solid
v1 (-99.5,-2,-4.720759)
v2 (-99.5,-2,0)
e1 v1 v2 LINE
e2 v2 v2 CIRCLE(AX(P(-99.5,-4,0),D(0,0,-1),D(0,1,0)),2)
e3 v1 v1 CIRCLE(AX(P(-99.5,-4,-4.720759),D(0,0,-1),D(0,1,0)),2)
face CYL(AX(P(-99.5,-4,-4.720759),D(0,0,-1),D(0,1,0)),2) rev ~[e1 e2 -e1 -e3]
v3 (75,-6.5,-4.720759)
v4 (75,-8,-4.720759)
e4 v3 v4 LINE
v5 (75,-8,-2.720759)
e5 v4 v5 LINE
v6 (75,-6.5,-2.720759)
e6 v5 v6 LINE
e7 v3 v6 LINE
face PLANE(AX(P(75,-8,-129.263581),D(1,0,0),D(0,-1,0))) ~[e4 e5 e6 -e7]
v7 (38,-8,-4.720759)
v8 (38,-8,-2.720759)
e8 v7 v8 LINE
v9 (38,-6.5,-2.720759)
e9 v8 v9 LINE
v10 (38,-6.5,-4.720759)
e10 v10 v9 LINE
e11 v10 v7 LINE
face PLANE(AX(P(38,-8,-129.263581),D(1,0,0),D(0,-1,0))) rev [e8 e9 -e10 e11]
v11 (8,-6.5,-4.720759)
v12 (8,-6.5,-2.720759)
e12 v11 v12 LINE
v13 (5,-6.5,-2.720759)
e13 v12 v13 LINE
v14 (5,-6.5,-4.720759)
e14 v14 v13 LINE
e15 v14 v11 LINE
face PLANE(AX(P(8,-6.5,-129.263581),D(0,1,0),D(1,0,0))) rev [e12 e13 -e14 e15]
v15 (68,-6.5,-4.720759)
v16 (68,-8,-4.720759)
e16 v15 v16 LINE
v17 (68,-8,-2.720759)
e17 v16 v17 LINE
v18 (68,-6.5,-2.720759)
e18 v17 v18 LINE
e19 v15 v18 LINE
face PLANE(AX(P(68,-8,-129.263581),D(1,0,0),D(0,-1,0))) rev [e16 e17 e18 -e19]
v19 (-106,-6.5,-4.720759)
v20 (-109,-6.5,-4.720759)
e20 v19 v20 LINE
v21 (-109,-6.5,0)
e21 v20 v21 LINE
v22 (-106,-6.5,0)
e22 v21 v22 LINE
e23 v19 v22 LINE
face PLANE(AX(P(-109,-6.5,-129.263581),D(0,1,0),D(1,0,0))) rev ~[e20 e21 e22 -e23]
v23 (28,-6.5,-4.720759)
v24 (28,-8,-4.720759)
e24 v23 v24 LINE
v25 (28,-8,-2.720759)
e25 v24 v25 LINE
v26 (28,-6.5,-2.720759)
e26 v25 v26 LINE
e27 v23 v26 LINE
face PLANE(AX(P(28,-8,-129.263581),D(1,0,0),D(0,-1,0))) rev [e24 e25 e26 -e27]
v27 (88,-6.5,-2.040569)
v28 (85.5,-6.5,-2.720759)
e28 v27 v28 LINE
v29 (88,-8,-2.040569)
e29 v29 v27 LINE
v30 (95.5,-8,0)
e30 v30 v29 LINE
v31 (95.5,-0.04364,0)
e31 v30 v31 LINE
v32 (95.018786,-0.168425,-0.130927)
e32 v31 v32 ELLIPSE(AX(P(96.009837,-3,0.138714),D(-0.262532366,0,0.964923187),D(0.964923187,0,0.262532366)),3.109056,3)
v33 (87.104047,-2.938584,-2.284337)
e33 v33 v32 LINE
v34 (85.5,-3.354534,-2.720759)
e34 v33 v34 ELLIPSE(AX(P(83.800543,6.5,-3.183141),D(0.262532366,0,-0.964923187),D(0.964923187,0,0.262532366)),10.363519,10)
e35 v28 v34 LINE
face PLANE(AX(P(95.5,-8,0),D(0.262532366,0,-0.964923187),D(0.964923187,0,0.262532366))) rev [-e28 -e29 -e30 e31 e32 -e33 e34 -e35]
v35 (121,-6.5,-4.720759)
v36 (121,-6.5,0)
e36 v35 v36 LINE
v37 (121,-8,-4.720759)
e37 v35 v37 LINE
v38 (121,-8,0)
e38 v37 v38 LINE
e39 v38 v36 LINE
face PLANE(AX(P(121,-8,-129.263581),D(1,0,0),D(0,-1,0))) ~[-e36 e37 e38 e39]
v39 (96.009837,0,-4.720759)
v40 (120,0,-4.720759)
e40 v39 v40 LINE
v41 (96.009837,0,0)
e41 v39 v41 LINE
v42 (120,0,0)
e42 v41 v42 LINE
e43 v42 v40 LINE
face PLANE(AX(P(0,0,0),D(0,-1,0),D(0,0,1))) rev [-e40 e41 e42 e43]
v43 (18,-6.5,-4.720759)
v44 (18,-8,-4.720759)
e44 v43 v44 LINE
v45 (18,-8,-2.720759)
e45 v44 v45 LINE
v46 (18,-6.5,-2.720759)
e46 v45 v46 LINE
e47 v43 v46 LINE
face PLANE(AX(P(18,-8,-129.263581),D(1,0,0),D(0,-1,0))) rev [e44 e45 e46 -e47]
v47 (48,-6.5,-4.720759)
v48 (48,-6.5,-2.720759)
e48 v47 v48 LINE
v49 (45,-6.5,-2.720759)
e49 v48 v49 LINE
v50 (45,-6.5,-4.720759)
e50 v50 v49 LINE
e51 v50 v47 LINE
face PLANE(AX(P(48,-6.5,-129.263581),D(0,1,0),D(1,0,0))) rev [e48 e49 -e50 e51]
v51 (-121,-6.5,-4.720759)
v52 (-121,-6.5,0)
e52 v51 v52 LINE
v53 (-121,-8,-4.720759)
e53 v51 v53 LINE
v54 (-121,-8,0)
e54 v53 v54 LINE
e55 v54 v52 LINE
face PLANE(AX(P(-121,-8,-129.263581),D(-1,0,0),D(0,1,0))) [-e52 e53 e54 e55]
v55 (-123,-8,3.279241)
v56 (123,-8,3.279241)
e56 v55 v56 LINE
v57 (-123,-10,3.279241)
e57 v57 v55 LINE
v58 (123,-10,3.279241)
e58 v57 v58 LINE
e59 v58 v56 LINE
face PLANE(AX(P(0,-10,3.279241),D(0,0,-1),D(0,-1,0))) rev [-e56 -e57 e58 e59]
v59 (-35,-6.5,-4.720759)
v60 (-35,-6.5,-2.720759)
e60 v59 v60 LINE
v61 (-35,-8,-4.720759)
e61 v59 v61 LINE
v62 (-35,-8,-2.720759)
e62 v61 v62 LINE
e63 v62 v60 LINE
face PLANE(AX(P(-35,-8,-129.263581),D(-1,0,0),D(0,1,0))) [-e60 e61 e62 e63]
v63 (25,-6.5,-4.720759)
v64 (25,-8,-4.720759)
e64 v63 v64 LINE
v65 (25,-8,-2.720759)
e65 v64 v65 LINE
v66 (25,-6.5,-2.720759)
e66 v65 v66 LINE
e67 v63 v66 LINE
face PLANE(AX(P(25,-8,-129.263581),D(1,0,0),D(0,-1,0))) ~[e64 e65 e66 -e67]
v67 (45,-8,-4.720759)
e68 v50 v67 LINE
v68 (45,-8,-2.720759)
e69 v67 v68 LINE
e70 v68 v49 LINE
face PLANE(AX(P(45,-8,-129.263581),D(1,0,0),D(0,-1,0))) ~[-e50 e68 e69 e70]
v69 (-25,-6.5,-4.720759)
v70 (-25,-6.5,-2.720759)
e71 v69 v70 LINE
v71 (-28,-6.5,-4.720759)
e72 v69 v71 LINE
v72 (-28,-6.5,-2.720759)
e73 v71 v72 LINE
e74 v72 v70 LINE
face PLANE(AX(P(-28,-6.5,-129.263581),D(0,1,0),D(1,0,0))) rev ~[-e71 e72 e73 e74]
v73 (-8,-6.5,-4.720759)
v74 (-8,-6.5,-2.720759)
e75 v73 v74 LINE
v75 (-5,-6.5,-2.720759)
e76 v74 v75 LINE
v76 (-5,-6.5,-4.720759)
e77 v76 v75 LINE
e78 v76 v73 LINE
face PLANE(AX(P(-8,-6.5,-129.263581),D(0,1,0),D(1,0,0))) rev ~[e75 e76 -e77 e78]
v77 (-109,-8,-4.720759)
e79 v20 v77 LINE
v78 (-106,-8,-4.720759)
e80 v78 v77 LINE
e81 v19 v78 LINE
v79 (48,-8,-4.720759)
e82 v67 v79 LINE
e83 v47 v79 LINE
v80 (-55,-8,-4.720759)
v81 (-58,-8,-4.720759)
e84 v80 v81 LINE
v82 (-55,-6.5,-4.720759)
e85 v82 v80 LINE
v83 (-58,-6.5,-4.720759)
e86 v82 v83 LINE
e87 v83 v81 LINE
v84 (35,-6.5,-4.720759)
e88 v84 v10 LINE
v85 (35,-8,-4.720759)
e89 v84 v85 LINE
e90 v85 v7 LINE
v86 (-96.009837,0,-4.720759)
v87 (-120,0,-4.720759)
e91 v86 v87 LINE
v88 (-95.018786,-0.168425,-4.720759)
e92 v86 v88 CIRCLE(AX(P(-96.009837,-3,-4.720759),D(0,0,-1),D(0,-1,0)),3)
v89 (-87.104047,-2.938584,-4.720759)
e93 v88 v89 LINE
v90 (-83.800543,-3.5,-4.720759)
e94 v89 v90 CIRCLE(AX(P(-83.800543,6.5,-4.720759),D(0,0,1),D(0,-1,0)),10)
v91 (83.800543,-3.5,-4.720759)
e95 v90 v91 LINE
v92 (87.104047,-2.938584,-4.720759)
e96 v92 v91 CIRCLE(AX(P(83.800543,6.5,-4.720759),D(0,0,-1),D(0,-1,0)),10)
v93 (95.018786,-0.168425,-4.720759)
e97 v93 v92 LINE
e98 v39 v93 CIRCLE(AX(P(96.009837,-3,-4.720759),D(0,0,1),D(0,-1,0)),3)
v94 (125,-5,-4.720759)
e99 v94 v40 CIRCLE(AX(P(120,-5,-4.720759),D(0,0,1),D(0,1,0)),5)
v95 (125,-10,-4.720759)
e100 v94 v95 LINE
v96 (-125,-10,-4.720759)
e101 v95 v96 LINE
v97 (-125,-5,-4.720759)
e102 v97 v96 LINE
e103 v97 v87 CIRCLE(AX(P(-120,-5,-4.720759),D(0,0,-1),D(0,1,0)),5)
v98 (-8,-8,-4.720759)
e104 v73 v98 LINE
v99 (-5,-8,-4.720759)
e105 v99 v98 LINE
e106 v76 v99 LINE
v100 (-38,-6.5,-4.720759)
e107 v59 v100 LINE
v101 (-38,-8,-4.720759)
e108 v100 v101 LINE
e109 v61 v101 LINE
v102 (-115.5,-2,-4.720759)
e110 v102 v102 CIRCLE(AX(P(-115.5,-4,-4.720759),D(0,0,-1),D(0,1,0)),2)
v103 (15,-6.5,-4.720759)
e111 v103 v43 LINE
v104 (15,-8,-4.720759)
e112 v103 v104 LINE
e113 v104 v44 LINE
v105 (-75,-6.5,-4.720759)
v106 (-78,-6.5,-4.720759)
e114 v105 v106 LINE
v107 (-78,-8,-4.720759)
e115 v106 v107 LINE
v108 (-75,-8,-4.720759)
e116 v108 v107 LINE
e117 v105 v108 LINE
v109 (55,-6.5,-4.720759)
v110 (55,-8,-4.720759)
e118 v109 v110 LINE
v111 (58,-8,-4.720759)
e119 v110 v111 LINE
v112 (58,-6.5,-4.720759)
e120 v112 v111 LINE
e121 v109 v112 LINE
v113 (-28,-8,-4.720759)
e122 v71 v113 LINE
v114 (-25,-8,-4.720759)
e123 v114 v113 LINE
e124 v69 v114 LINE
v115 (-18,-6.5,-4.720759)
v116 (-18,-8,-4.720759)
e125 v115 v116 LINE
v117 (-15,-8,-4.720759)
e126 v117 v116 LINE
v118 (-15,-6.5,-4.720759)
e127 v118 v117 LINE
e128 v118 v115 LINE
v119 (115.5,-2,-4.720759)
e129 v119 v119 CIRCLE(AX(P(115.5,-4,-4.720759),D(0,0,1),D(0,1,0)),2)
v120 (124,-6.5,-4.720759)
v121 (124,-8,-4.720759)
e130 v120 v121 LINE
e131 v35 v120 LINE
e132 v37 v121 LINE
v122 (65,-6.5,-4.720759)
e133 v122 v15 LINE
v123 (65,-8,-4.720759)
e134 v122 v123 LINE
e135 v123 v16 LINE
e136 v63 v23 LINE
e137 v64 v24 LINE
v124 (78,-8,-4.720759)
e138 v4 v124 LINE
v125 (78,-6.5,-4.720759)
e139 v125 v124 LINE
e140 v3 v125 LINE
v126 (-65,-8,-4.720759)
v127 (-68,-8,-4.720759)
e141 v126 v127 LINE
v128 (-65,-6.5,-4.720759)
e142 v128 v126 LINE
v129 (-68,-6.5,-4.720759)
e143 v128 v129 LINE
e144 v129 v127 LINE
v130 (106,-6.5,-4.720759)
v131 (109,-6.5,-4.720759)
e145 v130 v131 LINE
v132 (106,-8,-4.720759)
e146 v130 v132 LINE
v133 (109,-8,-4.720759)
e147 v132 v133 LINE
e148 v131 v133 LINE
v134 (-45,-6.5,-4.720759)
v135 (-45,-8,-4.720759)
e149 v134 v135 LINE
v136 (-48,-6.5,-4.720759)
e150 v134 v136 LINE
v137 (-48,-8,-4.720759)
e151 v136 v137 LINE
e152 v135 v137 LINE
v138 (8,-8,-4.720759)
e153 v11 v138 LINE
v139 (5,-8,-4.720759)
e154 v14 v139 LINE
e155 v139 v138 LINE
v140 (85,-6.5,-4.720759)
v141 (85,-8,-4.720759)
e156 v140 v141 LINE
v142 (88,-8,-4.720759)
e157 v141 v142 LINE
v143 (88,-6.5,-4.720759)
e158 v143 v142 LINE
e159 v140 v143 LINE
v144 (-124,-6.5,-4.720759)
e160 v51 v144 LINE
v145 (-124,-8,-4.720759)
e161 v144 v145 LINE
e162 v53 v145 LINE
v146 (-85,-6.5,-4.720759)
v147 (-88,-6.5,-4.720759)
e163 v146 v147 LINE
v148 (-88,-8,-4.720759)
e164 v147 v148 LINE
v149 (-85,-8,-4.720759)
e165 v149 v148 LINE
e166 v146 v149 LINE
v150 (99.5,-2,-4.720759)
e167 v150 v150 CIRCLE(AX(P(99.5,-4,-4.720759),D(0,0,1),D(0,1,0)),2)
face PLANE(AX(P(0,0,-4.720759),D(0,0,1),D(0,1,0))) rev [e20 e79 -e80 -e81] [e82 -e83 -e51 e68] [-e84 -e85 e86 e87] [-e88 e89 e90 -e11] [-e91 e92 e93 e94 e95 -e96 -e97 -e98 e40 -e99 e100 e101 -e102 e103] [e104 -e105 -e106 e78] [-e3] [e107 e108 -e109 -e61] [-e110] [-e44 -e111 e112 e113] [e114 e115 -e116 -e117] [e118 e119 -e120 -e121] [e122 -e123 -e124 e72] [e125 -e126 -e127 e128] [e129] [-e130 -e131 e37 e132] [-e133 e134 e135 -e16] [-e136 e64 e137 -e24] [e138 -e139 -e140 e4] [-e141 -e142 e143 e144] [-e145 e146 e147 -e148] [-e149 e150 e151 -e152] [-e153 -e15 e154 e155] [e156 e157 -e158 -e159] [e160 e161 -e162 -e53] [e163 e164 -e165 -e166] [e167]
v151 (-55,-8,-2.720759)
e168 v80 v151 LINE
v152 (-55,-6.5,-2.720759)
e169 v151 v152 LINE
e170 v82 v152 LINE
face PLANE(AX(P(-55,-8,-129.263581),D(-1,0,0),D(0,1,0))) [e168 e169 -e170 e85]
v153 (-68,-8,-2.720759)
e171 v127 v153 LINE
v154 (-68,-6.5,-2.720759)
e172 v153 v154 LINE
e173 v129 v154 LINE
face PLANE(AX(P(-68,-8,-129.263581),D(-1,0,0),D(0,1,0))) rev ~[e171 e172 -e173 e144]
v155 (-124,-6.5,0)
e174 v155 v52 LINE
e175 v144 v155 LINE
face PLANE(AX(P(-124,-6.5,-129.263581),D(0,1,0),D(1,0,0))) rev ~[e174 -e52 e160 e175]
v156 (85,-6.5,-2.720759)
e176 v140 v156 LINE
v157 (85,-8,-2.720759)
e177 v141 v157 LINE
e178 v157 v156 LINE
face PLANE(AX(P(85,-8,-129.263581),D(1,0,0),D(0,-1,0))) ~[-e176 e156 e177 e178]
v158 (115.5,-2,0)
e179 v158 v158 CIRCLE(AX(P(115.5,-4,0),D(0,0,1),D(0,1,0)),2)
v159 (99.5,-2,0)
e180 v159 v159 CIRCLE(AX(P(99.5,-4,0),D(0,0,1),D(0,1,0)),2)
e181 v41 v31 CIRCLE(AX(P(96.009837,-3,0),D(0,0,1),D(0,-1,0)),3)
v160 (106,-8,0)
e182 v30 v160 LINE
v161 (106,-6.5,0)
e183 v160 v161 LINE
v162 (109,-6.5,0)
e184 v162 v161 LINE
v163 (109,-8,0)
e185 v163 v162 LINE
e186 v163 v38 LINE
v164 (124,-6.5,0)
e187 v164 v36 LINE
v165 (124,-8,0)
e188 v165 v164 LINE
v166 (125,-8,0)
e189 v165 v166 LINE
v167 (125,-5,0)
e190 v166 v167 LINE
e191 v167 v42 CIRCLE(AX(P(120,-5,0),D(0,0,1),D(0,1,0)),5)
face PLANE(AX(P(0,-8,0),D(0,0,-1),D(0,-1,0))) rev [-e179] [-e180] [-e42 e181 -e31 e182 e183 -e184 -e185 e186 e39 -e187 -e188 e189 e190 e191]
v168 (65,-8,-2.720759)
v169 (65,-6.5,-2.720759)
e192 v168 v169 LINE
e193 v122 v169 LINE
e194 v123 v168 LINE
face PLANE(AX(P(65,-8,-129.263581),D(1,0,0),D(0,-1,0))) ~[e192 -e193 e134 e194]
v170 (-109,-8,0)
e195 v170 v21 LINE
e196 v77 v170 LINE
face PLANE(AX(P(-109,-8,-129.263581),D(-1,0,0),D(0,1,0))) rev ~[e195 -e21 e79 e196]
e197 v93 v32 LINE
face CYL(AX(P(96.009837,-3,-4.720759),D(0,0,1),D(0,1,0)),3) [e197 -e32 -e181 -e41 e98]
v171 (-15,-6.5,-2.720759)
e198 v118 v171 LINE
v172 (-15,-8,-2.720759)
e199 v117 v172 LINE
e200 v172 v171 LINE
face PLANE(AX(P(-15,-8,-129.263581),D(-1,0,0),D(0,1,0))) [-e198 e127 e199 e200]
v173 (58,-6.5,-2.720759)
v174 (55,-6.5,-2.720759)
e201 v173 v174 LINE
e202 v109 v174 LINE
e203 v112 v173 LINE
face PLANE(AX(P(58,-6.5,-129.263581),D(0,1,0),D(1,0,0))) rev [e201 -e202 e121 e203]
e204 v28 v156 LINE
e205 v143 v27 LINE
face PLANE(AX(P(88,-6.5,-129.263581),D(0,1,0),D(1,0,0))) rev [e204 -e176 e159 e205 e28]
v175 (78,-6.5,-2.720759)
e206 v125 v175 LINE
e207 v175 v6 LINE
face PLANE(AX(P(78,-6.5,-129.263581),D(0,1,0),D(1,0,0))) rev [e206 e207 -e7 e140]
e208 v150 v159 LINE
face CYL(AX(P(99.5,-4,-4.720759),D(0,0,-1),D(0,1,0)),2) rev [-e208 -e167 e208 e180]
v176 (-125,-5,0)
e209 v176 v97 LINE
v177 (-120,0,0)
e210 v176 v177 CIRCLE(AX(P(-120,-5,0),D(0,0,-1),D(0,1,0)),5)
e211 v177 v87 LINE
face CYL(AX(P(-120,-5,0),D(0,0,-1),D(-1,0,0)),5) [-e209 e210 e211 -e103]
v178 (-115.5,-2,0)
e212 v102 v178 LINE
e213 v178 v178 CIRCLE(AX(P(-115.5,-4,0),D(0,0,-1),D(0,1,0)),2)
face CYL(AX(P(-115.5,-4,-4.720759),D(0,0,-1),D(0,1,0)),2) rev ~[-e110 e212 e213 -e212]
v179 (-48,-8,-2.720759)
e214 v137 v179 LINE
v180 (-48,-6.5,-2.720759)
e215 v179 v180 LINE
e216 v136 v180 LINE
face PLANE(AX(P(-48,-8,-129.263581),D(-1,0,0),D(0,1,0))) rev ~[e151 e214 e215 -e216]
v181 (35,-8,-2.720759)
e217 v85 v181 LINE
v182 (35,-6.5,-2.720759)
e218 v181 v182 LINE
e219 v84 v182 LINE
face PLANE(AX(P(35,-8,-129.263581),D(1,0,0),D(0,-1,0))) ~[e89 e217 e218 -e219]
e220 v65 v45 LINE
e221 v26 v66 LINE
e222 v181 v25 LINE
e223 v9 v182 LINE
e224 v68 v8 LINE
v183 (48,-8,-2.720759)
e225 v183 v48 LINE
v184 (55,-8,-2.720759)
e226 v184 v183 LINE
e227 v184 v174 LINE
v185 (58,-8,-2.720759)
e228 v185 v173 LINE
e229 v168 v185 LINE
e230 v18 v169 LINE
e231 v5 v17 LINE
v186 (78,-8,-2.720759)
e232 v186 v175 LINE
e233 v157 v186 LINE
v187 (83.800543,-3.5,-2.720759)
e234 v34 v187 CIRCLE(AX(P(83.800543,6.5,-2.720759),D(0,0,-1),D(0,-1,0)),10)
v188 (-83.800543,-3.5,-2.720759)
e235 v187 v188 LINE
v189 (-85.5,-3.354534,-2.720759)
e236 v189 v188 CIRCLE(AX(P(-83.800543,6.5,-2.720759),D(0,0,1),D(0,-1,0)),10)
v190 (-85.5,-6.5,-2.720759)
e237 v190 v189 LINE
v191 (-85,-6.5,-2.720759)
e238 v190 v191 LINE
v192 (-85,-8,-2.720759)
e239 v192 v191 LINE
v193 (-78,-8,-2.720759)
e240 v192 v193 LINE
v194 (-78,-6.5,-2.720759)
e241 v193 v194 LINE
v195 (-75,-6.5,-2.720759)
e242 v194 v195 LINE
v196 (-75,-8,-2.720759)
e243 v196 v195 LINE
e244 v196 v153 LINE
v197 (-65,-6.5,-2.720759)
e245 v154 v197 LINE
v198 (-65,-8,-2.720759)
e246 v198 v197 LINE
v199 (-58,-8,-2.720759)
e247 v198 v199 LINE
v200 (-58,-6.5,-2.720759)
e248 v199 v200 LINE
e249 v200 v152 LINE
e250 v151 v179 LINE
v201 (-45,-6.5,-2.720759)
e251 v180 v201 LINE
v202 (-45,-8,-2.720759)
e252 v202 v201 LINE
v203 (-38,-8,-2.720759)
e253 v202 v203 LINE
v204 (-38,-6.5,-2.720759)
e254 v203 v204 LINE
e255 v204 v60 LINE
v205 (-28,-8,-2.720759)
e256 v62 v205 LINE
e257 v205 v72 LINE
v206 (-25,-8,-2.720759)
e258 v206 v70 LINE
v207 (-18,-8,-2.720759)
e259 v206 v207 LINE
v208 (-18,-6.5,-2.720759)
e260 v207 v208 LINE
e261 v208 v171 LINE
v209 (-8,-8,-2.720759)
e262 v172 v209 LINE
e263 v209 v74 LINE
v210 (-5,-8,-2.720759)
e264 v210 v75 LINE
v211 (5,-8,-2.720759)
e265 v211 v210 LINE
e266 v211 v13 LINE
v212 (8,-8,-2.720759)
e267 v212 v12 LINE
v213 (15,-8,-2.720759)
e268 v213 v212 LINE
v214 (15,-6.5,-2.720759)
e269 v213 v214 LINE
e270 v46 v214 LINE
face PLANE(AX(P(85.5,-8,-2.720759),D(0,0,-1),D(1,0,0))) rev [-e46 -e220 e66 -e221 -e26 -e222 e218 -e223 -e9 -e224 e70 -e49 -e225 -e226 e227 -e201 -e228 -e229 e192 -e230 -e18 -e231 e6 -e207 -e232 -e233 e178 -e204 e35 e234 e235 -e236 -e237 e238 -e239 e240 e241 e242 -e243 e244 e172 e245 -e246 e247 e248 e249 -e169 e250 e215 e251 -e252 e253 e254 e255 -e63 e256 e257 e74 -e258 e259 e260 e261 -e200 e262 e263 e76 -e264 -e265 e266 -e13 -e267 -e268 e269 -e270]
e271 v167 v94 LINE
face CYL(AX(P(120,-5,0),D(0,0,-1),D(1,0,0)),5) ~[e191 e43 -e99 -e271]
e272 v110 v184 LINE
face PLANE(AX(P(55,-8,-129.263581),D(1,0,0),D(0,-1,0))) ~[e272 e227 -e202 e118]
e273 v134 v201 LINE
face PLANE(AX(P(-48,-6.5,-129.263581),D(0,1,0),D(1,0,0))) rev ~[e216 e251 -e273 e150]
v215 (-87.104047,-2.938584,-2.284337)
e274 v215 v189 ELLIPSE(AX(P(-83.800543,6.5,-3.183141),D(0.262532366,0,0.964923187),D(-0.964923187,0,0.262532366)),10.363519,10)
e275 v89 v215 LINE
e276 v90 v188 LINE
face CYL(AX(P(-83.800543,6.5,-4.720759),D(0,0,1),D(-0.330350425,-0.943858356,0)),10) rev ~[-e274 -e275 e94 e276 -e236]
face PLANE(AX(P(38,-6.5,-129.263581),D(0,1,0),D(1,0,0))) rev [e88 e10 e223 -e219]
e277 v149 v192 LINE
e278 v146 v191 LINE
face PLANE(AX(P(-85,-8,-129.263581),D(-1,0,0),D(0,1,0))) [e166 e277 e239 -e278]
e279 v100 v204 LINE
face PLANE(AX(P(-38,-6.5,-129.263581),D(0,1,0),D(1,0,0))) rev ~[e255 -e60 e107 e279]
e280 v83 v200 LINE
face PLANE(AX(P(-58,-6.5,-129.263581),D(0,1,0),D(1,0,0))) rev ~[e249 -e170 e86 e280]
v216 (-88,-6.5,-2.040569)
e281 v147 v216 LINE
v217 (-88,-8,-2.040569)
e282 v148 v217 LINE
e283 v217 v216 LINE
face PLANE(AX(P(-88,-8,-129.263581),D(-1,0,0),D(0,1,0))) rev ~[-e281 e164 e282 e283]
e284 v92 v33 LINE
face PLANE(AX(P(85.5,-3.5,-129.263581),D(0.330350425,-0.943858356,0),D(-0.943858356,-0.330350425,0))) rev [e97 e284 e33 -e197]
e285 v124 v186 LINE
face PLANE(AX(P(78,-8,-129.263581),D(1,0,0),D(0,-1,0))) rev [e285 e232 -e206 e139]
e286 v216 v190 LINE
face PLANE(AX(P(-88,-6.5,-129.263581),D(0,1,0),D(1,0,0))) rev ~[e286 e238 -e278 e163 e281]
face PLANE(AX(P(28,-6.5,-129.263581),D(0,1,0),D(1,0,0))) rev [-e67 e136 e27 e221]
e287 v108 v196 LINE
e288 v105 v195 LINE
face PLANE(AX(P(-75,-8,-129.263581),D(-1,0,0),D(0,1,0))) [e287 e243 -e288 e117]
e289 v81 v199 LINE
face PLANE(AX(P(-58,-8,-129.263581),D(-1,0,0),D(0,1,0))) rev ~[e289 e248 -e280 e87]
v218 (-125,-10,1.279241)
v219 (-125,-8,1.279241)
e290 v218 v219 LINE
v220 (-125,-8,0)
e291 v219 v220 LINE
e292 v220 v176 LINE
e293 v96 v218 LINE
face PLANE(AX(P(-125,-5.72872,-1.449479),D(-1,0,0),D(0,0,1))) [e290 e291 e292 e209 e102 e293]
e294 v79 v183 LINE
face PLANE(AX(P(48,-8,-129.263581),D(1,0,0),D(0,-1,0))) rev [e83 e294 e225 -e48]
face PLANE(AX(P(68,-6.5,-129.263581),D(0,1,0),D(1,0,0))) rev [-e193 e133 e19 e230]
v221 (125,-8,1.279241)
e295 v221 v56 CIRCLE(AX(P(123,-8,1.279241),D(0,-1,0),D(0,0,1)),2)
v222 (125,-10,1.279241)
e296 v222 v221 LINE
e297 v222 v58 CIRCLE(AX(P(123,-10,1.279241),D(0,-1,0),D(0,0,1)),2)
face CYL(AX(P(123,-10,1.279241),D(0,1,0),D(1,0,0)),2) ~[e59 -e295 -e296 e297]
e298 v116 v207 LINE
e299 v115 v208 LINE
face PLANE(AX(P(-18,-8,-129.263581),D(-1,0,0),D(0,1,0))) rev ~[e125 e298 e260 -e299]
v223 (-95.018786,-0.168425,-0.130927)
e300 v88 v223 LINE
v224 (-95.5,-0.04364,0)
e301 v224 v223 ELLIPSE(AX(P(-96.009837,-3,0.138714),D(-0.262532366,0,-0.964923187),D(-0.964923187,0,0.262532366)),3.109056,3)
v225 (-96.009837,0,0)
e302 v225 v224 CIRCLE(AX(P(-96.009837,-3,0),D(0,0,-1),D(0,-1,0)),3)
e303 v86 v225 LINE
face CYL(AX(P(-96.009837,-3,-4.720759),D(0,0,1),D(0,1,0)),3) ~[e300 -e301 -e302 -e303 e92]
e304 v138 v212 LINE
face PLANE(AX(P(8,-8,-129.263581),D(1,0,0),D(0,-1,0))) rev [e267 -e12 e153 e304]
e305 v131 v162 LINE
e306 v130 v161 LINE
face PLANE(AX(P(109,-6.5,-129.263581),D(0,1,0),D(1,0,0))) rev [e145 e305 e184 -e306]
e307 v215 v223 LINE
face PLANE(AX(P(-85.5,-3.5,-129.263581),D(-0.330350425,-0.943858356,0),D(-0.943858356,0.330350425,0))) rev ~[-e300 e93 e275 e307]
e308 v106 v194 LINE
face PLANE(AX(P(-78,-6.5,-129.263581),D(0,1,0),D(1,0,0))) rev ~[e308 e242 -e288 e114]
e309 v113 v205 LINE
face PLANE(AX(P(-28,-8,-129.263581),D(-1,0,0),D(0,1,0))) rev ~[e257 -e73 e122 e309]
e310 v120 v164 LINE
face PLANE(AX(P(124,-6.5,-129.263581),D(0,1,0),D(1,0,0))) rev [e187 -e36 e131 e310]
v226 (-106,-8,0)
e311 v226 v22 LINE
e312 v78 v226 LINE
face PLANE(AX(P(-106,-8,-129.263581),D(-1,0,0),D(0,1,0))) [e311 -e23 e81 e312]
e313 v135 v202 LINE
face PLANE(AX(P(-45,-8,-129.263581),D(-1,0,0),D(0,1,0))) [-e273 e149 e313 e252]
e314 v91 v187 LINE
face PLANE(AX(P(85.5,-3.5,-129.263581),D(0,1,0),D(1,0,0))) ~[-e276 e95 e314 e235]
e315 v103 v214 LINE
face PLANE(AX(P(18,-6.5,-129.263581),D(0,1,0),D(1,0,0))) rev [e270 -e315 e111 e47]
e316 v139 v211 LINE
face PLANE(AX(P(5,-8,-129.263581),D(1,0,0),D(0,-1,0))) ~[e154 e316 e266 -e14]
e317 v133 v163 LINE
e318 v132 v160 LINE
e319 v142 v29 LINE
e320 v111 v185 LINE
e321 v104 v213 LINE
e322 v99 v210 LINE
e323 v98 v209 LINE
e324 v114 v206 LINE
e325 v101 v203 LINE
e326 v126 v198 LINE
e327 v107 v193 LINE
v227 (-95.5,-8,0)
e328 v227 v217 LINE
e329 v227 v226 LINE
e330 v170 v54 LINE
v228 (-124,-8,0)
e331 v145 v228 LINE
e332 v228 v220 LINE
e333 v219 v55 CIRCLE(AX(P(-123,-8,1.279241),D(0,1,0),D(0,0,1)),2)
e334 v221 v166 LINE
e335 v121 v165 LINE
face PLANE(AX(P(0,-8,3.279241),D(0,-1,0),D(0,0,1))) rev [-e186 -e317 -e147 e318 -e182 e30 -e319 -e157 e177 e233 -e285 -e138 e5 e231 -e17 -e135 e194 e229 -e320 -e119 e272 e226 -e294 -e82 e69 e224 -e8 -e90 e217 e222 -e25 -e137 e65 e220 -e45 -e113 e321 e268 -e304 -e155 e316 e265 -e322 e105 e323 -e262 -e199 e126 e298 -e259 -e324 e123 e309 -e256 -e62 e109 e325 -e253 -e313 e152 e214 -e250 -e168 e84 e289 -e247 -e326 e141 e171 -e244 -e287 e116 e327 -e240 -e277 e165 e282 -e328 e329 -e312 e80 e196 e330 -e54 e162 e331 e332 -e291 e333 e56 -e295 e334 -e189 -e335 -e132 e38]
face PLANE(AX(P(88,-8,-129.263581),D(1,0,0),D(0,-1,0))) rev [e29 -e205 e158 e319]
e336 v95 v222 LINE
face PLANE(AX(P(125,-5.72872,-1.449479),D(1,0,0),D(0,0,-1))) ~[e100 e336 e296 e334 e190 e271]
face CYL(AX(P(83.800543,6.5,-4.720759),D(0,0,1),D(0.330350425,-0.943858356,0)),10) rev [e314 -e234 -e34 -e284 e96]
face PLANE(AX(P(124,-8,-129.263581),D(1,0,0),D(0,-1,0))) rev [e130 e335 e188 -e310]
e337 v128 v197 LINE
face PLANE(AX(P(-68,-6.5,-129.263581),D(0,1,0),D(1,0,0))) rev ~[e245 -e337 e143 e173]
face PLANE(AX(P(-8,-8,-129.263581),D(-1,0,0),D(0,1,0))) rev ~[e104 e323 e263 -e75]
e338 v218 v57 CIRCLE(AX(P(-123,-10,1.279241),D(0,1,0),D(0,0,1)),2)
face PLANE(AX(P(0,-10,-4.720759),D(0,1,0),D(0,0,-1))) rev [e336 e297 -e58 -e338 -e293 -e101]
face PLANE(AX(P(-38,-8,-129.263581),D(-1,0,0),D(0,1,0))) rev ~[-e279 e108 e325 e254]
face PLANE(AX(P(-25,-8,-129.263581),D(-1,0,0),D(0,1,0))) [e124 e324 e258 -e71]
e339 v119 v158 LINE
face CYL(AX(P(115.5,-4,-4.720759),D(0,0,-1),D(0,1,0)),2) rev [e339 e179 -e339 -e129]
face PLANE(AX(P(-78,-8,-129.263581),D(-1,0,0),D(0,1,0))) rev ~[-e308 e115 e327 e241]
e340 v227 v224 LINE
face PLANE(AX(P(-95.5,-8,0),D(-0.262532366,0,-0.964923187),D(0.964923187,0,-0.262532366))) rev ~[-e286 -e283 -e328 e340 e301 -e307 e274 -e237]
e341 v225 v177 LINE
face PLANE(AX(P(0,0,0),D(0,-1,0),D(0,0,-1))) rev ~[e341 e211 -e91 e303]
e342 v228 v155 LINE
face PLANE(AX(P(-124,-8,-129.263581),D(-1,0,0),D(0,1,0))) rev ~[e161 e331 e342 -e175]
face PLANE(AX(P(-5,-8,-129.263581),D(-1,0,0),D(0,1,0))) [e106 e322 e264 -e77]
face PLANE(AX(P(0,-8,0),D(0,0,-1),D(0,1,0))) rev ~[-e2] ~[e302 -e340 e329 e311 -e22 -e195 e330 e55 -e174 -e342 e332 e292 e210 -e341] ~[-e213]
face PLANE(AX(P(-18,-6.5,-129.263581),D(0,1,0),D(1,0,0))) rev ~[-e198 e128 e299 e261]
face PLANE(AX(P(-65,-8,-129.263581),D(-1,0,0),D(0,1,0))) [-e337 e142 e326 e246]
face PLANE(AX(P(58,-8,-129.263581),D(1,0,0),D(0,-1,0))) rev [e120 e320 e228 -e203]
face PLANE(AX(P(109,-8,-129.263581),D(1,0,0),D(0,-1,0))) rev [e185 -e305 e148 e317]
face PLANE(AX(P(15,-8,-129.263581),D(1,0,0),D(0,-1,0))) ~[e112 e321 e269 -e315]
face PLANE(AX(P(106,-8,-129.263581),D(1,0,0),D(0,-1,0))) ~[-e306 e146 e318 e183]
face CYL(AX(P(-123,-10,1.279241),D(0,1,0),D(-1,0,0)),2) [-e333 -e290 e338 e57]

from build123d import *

# Parameters (mm, degrees)
BOSS_EXTRUDE1_DEPTH     = 125
CUT_EXTRUDE2_DEPTH      = 126.344667089
CUT_EXTRUDE3_DEPTH      = 126.54282138
CUT_EXTRUDE3_DEPTH_BACK = 126.54282138
SKETCH3_W               = 3
SKETCH3_H               = 1.5
CUT_EXTRUDE4_DEPTH      = 126.54282138
CUT_EXTRUDE4_DEPTH_BACK = 126.54282138
SKETCH5_R               = 2
CUT_EXTRUDE5_DEPTH      = 126.654287631
FILLET1_R               = 5
FILLET2_R               = 3
FILLET3_R               = 10
FILLET4_R               = 2


with BuildPart() as part:
    # Sketch1 → Boss-Extrude1 (new body)
    with BuildSketch(Plane(origin=(0, 0, 0), x_dir=(0, 0, -1), z_dir=(1, 0, 0))):
        Polygon((-3.27924078, -8), (0, -8), (0, 0), (4.72075922, 0), (4.72075922, -10), (-3.27924078, -10), align=None)
    extrude(amount=-BOSS_EXTRUDE1_DEPTH)

    # Sketch2 → Cut-Extrude2 (cut, through all)
    with BuildSketch(Plane(origin=(0, -8, 0), x_dir=(1, 0, 0), z_dir=(0, 1, 0))):
        Polygon((-95.5, 0), (-85.5, 2.72075922), (0, 2.72075922), (0, 0), align=None)
    extrude(amount=CUT_EXTRUDE2_DEPTH, mode=Mode.SUBTRACT)

    # Sketch3 → Cut-Extrude3 (cut, two sides: drawn at the far end of the back side and taken through both)
    with BuildSketch(Plane.XY.offset(-2.72075922).offset(-CUT_EXTRUDE3_DEPTH_BACK)):
        with Locations((-122.5, -7.25)):
            Rectangle(SKETCH3_W, SKETCH3_H)
        with Locations((-6.5, -7.25)):
            Rectangle(SKETCH3_W, SKETCH3_H)
        with Locations((-16.5, -7.25)):
            Rectangle(SKETCH3_W, SKETCH3_H)
        with Locations((-26.5, -7.25)):
            Rectangle(SKETCH3_W, SKETCH3_H)
        with Locations((-36.5, -7.25)):
            Rectangle(SKETCH3_W, SKETCH3_H)
        with Locations((-46.5, -7.25)):
            Rectangle(SKETCH3_W, SKETCH3_H)
        with Locations((-56.5, -7.25)):
            Rectangle(SKETCH3_W, SKETCH3_H)
        with Locations((-66.5, -7.25)):
            Rectangle(SKETCH3_W, SKETCH3_H)
        with Locations((-76.5, -7.25)):
            Rectangle(SKETCH3_W, SKETCH3_H)
        with Locations((-86.5, -7.25)):
            Rectangle(SKETCH3_W, SKETCH3_H)
        with Locations((-107.5, -7.25)):
            Rectangle(SKETCH3_W, SKETCH3_H)
    extrude(amount=CUT_EXTRUDE3_DEPTH + CUT_EXTRUDE3_DEPTH_BACK, mode=Mode.SUBTRACT)

    # Sketch4 → Cut-Extrude4 (cut, two sides: drawn at the far end of the back side and taken through both)
    with BuildSketch(Plane.XY.offset(-2.72075922).offset(-CUT_EXTRUDE4_DEPTH_BACK)):
        Polygon((260.33777182, -3.5), (0, -3.5), (-85.5, -3.5), (-95.5, 0), (-341.22198141, 86.002693494), (-264.597067166, 601.009144194), (336.962686065, 511.5064507), align=None)
    extrude(amount=CUT_EXTRUDE4_DEPTH + CUT_EXTRUDE4_DEPTH_BACK, mode=Mode.SUBTRACT)

    # Sketch5 → Cut-Extrude5 (cut, through all)
    with BuildSketch(Plane(origin=(0, 0, -4.72075922), x_dir=(-1, 0, 0), z_dir=(0, 0, -1))):
        with Locations(Location((99.5, -4, 0), (0, 0, 90))):
            Circle(SKETCH5_R)
        with Locations(Location((115.5, -4, 0), (0, 0, 90))):
            Circle(SKETCH5_R)
    extrude(amount=-CUT_EXTRUDE5_DEPTH, mode=Mode.SUBTRACT)

    # Fillet1
    fillet1_edges = [part.edges().sort_by_distance(p)[0] for p in [
        (-125, 0, -2.36037961),
    ]]
    fillet(fillet1_edges, radius=FILLET1_R)

    # Fillet2
    fillet2_edges = [part.edges().sort_by_distance(p)[0] for p in [
        (-95.5, 0, -2.36037961),
    ]]
    fillet(fillet2_edges, radius=FILLET2_R)

    # Fillet3
    fillet3_edges = [part.edges().sort_by_distance(p)[0] for p in [
        (-85.5, -3.5, -3.72075922),
    ]]
    fillet(fillet3_edges, radius=FILLET3_R)

    # Fillet4
    fillet4_edges = [part.edges().sort_by_distance(p)[0] for p in [
        (-125, -9, 3.27924078),
    ]]
    fillet(fillet4_edges, radius=FILLET4_R)

    # Mirror1: part across plane


with BuildPart() as part_1:
    add(part.part)
    add(part.part.mirror(Plane.ZY))


solid = part_1.part
